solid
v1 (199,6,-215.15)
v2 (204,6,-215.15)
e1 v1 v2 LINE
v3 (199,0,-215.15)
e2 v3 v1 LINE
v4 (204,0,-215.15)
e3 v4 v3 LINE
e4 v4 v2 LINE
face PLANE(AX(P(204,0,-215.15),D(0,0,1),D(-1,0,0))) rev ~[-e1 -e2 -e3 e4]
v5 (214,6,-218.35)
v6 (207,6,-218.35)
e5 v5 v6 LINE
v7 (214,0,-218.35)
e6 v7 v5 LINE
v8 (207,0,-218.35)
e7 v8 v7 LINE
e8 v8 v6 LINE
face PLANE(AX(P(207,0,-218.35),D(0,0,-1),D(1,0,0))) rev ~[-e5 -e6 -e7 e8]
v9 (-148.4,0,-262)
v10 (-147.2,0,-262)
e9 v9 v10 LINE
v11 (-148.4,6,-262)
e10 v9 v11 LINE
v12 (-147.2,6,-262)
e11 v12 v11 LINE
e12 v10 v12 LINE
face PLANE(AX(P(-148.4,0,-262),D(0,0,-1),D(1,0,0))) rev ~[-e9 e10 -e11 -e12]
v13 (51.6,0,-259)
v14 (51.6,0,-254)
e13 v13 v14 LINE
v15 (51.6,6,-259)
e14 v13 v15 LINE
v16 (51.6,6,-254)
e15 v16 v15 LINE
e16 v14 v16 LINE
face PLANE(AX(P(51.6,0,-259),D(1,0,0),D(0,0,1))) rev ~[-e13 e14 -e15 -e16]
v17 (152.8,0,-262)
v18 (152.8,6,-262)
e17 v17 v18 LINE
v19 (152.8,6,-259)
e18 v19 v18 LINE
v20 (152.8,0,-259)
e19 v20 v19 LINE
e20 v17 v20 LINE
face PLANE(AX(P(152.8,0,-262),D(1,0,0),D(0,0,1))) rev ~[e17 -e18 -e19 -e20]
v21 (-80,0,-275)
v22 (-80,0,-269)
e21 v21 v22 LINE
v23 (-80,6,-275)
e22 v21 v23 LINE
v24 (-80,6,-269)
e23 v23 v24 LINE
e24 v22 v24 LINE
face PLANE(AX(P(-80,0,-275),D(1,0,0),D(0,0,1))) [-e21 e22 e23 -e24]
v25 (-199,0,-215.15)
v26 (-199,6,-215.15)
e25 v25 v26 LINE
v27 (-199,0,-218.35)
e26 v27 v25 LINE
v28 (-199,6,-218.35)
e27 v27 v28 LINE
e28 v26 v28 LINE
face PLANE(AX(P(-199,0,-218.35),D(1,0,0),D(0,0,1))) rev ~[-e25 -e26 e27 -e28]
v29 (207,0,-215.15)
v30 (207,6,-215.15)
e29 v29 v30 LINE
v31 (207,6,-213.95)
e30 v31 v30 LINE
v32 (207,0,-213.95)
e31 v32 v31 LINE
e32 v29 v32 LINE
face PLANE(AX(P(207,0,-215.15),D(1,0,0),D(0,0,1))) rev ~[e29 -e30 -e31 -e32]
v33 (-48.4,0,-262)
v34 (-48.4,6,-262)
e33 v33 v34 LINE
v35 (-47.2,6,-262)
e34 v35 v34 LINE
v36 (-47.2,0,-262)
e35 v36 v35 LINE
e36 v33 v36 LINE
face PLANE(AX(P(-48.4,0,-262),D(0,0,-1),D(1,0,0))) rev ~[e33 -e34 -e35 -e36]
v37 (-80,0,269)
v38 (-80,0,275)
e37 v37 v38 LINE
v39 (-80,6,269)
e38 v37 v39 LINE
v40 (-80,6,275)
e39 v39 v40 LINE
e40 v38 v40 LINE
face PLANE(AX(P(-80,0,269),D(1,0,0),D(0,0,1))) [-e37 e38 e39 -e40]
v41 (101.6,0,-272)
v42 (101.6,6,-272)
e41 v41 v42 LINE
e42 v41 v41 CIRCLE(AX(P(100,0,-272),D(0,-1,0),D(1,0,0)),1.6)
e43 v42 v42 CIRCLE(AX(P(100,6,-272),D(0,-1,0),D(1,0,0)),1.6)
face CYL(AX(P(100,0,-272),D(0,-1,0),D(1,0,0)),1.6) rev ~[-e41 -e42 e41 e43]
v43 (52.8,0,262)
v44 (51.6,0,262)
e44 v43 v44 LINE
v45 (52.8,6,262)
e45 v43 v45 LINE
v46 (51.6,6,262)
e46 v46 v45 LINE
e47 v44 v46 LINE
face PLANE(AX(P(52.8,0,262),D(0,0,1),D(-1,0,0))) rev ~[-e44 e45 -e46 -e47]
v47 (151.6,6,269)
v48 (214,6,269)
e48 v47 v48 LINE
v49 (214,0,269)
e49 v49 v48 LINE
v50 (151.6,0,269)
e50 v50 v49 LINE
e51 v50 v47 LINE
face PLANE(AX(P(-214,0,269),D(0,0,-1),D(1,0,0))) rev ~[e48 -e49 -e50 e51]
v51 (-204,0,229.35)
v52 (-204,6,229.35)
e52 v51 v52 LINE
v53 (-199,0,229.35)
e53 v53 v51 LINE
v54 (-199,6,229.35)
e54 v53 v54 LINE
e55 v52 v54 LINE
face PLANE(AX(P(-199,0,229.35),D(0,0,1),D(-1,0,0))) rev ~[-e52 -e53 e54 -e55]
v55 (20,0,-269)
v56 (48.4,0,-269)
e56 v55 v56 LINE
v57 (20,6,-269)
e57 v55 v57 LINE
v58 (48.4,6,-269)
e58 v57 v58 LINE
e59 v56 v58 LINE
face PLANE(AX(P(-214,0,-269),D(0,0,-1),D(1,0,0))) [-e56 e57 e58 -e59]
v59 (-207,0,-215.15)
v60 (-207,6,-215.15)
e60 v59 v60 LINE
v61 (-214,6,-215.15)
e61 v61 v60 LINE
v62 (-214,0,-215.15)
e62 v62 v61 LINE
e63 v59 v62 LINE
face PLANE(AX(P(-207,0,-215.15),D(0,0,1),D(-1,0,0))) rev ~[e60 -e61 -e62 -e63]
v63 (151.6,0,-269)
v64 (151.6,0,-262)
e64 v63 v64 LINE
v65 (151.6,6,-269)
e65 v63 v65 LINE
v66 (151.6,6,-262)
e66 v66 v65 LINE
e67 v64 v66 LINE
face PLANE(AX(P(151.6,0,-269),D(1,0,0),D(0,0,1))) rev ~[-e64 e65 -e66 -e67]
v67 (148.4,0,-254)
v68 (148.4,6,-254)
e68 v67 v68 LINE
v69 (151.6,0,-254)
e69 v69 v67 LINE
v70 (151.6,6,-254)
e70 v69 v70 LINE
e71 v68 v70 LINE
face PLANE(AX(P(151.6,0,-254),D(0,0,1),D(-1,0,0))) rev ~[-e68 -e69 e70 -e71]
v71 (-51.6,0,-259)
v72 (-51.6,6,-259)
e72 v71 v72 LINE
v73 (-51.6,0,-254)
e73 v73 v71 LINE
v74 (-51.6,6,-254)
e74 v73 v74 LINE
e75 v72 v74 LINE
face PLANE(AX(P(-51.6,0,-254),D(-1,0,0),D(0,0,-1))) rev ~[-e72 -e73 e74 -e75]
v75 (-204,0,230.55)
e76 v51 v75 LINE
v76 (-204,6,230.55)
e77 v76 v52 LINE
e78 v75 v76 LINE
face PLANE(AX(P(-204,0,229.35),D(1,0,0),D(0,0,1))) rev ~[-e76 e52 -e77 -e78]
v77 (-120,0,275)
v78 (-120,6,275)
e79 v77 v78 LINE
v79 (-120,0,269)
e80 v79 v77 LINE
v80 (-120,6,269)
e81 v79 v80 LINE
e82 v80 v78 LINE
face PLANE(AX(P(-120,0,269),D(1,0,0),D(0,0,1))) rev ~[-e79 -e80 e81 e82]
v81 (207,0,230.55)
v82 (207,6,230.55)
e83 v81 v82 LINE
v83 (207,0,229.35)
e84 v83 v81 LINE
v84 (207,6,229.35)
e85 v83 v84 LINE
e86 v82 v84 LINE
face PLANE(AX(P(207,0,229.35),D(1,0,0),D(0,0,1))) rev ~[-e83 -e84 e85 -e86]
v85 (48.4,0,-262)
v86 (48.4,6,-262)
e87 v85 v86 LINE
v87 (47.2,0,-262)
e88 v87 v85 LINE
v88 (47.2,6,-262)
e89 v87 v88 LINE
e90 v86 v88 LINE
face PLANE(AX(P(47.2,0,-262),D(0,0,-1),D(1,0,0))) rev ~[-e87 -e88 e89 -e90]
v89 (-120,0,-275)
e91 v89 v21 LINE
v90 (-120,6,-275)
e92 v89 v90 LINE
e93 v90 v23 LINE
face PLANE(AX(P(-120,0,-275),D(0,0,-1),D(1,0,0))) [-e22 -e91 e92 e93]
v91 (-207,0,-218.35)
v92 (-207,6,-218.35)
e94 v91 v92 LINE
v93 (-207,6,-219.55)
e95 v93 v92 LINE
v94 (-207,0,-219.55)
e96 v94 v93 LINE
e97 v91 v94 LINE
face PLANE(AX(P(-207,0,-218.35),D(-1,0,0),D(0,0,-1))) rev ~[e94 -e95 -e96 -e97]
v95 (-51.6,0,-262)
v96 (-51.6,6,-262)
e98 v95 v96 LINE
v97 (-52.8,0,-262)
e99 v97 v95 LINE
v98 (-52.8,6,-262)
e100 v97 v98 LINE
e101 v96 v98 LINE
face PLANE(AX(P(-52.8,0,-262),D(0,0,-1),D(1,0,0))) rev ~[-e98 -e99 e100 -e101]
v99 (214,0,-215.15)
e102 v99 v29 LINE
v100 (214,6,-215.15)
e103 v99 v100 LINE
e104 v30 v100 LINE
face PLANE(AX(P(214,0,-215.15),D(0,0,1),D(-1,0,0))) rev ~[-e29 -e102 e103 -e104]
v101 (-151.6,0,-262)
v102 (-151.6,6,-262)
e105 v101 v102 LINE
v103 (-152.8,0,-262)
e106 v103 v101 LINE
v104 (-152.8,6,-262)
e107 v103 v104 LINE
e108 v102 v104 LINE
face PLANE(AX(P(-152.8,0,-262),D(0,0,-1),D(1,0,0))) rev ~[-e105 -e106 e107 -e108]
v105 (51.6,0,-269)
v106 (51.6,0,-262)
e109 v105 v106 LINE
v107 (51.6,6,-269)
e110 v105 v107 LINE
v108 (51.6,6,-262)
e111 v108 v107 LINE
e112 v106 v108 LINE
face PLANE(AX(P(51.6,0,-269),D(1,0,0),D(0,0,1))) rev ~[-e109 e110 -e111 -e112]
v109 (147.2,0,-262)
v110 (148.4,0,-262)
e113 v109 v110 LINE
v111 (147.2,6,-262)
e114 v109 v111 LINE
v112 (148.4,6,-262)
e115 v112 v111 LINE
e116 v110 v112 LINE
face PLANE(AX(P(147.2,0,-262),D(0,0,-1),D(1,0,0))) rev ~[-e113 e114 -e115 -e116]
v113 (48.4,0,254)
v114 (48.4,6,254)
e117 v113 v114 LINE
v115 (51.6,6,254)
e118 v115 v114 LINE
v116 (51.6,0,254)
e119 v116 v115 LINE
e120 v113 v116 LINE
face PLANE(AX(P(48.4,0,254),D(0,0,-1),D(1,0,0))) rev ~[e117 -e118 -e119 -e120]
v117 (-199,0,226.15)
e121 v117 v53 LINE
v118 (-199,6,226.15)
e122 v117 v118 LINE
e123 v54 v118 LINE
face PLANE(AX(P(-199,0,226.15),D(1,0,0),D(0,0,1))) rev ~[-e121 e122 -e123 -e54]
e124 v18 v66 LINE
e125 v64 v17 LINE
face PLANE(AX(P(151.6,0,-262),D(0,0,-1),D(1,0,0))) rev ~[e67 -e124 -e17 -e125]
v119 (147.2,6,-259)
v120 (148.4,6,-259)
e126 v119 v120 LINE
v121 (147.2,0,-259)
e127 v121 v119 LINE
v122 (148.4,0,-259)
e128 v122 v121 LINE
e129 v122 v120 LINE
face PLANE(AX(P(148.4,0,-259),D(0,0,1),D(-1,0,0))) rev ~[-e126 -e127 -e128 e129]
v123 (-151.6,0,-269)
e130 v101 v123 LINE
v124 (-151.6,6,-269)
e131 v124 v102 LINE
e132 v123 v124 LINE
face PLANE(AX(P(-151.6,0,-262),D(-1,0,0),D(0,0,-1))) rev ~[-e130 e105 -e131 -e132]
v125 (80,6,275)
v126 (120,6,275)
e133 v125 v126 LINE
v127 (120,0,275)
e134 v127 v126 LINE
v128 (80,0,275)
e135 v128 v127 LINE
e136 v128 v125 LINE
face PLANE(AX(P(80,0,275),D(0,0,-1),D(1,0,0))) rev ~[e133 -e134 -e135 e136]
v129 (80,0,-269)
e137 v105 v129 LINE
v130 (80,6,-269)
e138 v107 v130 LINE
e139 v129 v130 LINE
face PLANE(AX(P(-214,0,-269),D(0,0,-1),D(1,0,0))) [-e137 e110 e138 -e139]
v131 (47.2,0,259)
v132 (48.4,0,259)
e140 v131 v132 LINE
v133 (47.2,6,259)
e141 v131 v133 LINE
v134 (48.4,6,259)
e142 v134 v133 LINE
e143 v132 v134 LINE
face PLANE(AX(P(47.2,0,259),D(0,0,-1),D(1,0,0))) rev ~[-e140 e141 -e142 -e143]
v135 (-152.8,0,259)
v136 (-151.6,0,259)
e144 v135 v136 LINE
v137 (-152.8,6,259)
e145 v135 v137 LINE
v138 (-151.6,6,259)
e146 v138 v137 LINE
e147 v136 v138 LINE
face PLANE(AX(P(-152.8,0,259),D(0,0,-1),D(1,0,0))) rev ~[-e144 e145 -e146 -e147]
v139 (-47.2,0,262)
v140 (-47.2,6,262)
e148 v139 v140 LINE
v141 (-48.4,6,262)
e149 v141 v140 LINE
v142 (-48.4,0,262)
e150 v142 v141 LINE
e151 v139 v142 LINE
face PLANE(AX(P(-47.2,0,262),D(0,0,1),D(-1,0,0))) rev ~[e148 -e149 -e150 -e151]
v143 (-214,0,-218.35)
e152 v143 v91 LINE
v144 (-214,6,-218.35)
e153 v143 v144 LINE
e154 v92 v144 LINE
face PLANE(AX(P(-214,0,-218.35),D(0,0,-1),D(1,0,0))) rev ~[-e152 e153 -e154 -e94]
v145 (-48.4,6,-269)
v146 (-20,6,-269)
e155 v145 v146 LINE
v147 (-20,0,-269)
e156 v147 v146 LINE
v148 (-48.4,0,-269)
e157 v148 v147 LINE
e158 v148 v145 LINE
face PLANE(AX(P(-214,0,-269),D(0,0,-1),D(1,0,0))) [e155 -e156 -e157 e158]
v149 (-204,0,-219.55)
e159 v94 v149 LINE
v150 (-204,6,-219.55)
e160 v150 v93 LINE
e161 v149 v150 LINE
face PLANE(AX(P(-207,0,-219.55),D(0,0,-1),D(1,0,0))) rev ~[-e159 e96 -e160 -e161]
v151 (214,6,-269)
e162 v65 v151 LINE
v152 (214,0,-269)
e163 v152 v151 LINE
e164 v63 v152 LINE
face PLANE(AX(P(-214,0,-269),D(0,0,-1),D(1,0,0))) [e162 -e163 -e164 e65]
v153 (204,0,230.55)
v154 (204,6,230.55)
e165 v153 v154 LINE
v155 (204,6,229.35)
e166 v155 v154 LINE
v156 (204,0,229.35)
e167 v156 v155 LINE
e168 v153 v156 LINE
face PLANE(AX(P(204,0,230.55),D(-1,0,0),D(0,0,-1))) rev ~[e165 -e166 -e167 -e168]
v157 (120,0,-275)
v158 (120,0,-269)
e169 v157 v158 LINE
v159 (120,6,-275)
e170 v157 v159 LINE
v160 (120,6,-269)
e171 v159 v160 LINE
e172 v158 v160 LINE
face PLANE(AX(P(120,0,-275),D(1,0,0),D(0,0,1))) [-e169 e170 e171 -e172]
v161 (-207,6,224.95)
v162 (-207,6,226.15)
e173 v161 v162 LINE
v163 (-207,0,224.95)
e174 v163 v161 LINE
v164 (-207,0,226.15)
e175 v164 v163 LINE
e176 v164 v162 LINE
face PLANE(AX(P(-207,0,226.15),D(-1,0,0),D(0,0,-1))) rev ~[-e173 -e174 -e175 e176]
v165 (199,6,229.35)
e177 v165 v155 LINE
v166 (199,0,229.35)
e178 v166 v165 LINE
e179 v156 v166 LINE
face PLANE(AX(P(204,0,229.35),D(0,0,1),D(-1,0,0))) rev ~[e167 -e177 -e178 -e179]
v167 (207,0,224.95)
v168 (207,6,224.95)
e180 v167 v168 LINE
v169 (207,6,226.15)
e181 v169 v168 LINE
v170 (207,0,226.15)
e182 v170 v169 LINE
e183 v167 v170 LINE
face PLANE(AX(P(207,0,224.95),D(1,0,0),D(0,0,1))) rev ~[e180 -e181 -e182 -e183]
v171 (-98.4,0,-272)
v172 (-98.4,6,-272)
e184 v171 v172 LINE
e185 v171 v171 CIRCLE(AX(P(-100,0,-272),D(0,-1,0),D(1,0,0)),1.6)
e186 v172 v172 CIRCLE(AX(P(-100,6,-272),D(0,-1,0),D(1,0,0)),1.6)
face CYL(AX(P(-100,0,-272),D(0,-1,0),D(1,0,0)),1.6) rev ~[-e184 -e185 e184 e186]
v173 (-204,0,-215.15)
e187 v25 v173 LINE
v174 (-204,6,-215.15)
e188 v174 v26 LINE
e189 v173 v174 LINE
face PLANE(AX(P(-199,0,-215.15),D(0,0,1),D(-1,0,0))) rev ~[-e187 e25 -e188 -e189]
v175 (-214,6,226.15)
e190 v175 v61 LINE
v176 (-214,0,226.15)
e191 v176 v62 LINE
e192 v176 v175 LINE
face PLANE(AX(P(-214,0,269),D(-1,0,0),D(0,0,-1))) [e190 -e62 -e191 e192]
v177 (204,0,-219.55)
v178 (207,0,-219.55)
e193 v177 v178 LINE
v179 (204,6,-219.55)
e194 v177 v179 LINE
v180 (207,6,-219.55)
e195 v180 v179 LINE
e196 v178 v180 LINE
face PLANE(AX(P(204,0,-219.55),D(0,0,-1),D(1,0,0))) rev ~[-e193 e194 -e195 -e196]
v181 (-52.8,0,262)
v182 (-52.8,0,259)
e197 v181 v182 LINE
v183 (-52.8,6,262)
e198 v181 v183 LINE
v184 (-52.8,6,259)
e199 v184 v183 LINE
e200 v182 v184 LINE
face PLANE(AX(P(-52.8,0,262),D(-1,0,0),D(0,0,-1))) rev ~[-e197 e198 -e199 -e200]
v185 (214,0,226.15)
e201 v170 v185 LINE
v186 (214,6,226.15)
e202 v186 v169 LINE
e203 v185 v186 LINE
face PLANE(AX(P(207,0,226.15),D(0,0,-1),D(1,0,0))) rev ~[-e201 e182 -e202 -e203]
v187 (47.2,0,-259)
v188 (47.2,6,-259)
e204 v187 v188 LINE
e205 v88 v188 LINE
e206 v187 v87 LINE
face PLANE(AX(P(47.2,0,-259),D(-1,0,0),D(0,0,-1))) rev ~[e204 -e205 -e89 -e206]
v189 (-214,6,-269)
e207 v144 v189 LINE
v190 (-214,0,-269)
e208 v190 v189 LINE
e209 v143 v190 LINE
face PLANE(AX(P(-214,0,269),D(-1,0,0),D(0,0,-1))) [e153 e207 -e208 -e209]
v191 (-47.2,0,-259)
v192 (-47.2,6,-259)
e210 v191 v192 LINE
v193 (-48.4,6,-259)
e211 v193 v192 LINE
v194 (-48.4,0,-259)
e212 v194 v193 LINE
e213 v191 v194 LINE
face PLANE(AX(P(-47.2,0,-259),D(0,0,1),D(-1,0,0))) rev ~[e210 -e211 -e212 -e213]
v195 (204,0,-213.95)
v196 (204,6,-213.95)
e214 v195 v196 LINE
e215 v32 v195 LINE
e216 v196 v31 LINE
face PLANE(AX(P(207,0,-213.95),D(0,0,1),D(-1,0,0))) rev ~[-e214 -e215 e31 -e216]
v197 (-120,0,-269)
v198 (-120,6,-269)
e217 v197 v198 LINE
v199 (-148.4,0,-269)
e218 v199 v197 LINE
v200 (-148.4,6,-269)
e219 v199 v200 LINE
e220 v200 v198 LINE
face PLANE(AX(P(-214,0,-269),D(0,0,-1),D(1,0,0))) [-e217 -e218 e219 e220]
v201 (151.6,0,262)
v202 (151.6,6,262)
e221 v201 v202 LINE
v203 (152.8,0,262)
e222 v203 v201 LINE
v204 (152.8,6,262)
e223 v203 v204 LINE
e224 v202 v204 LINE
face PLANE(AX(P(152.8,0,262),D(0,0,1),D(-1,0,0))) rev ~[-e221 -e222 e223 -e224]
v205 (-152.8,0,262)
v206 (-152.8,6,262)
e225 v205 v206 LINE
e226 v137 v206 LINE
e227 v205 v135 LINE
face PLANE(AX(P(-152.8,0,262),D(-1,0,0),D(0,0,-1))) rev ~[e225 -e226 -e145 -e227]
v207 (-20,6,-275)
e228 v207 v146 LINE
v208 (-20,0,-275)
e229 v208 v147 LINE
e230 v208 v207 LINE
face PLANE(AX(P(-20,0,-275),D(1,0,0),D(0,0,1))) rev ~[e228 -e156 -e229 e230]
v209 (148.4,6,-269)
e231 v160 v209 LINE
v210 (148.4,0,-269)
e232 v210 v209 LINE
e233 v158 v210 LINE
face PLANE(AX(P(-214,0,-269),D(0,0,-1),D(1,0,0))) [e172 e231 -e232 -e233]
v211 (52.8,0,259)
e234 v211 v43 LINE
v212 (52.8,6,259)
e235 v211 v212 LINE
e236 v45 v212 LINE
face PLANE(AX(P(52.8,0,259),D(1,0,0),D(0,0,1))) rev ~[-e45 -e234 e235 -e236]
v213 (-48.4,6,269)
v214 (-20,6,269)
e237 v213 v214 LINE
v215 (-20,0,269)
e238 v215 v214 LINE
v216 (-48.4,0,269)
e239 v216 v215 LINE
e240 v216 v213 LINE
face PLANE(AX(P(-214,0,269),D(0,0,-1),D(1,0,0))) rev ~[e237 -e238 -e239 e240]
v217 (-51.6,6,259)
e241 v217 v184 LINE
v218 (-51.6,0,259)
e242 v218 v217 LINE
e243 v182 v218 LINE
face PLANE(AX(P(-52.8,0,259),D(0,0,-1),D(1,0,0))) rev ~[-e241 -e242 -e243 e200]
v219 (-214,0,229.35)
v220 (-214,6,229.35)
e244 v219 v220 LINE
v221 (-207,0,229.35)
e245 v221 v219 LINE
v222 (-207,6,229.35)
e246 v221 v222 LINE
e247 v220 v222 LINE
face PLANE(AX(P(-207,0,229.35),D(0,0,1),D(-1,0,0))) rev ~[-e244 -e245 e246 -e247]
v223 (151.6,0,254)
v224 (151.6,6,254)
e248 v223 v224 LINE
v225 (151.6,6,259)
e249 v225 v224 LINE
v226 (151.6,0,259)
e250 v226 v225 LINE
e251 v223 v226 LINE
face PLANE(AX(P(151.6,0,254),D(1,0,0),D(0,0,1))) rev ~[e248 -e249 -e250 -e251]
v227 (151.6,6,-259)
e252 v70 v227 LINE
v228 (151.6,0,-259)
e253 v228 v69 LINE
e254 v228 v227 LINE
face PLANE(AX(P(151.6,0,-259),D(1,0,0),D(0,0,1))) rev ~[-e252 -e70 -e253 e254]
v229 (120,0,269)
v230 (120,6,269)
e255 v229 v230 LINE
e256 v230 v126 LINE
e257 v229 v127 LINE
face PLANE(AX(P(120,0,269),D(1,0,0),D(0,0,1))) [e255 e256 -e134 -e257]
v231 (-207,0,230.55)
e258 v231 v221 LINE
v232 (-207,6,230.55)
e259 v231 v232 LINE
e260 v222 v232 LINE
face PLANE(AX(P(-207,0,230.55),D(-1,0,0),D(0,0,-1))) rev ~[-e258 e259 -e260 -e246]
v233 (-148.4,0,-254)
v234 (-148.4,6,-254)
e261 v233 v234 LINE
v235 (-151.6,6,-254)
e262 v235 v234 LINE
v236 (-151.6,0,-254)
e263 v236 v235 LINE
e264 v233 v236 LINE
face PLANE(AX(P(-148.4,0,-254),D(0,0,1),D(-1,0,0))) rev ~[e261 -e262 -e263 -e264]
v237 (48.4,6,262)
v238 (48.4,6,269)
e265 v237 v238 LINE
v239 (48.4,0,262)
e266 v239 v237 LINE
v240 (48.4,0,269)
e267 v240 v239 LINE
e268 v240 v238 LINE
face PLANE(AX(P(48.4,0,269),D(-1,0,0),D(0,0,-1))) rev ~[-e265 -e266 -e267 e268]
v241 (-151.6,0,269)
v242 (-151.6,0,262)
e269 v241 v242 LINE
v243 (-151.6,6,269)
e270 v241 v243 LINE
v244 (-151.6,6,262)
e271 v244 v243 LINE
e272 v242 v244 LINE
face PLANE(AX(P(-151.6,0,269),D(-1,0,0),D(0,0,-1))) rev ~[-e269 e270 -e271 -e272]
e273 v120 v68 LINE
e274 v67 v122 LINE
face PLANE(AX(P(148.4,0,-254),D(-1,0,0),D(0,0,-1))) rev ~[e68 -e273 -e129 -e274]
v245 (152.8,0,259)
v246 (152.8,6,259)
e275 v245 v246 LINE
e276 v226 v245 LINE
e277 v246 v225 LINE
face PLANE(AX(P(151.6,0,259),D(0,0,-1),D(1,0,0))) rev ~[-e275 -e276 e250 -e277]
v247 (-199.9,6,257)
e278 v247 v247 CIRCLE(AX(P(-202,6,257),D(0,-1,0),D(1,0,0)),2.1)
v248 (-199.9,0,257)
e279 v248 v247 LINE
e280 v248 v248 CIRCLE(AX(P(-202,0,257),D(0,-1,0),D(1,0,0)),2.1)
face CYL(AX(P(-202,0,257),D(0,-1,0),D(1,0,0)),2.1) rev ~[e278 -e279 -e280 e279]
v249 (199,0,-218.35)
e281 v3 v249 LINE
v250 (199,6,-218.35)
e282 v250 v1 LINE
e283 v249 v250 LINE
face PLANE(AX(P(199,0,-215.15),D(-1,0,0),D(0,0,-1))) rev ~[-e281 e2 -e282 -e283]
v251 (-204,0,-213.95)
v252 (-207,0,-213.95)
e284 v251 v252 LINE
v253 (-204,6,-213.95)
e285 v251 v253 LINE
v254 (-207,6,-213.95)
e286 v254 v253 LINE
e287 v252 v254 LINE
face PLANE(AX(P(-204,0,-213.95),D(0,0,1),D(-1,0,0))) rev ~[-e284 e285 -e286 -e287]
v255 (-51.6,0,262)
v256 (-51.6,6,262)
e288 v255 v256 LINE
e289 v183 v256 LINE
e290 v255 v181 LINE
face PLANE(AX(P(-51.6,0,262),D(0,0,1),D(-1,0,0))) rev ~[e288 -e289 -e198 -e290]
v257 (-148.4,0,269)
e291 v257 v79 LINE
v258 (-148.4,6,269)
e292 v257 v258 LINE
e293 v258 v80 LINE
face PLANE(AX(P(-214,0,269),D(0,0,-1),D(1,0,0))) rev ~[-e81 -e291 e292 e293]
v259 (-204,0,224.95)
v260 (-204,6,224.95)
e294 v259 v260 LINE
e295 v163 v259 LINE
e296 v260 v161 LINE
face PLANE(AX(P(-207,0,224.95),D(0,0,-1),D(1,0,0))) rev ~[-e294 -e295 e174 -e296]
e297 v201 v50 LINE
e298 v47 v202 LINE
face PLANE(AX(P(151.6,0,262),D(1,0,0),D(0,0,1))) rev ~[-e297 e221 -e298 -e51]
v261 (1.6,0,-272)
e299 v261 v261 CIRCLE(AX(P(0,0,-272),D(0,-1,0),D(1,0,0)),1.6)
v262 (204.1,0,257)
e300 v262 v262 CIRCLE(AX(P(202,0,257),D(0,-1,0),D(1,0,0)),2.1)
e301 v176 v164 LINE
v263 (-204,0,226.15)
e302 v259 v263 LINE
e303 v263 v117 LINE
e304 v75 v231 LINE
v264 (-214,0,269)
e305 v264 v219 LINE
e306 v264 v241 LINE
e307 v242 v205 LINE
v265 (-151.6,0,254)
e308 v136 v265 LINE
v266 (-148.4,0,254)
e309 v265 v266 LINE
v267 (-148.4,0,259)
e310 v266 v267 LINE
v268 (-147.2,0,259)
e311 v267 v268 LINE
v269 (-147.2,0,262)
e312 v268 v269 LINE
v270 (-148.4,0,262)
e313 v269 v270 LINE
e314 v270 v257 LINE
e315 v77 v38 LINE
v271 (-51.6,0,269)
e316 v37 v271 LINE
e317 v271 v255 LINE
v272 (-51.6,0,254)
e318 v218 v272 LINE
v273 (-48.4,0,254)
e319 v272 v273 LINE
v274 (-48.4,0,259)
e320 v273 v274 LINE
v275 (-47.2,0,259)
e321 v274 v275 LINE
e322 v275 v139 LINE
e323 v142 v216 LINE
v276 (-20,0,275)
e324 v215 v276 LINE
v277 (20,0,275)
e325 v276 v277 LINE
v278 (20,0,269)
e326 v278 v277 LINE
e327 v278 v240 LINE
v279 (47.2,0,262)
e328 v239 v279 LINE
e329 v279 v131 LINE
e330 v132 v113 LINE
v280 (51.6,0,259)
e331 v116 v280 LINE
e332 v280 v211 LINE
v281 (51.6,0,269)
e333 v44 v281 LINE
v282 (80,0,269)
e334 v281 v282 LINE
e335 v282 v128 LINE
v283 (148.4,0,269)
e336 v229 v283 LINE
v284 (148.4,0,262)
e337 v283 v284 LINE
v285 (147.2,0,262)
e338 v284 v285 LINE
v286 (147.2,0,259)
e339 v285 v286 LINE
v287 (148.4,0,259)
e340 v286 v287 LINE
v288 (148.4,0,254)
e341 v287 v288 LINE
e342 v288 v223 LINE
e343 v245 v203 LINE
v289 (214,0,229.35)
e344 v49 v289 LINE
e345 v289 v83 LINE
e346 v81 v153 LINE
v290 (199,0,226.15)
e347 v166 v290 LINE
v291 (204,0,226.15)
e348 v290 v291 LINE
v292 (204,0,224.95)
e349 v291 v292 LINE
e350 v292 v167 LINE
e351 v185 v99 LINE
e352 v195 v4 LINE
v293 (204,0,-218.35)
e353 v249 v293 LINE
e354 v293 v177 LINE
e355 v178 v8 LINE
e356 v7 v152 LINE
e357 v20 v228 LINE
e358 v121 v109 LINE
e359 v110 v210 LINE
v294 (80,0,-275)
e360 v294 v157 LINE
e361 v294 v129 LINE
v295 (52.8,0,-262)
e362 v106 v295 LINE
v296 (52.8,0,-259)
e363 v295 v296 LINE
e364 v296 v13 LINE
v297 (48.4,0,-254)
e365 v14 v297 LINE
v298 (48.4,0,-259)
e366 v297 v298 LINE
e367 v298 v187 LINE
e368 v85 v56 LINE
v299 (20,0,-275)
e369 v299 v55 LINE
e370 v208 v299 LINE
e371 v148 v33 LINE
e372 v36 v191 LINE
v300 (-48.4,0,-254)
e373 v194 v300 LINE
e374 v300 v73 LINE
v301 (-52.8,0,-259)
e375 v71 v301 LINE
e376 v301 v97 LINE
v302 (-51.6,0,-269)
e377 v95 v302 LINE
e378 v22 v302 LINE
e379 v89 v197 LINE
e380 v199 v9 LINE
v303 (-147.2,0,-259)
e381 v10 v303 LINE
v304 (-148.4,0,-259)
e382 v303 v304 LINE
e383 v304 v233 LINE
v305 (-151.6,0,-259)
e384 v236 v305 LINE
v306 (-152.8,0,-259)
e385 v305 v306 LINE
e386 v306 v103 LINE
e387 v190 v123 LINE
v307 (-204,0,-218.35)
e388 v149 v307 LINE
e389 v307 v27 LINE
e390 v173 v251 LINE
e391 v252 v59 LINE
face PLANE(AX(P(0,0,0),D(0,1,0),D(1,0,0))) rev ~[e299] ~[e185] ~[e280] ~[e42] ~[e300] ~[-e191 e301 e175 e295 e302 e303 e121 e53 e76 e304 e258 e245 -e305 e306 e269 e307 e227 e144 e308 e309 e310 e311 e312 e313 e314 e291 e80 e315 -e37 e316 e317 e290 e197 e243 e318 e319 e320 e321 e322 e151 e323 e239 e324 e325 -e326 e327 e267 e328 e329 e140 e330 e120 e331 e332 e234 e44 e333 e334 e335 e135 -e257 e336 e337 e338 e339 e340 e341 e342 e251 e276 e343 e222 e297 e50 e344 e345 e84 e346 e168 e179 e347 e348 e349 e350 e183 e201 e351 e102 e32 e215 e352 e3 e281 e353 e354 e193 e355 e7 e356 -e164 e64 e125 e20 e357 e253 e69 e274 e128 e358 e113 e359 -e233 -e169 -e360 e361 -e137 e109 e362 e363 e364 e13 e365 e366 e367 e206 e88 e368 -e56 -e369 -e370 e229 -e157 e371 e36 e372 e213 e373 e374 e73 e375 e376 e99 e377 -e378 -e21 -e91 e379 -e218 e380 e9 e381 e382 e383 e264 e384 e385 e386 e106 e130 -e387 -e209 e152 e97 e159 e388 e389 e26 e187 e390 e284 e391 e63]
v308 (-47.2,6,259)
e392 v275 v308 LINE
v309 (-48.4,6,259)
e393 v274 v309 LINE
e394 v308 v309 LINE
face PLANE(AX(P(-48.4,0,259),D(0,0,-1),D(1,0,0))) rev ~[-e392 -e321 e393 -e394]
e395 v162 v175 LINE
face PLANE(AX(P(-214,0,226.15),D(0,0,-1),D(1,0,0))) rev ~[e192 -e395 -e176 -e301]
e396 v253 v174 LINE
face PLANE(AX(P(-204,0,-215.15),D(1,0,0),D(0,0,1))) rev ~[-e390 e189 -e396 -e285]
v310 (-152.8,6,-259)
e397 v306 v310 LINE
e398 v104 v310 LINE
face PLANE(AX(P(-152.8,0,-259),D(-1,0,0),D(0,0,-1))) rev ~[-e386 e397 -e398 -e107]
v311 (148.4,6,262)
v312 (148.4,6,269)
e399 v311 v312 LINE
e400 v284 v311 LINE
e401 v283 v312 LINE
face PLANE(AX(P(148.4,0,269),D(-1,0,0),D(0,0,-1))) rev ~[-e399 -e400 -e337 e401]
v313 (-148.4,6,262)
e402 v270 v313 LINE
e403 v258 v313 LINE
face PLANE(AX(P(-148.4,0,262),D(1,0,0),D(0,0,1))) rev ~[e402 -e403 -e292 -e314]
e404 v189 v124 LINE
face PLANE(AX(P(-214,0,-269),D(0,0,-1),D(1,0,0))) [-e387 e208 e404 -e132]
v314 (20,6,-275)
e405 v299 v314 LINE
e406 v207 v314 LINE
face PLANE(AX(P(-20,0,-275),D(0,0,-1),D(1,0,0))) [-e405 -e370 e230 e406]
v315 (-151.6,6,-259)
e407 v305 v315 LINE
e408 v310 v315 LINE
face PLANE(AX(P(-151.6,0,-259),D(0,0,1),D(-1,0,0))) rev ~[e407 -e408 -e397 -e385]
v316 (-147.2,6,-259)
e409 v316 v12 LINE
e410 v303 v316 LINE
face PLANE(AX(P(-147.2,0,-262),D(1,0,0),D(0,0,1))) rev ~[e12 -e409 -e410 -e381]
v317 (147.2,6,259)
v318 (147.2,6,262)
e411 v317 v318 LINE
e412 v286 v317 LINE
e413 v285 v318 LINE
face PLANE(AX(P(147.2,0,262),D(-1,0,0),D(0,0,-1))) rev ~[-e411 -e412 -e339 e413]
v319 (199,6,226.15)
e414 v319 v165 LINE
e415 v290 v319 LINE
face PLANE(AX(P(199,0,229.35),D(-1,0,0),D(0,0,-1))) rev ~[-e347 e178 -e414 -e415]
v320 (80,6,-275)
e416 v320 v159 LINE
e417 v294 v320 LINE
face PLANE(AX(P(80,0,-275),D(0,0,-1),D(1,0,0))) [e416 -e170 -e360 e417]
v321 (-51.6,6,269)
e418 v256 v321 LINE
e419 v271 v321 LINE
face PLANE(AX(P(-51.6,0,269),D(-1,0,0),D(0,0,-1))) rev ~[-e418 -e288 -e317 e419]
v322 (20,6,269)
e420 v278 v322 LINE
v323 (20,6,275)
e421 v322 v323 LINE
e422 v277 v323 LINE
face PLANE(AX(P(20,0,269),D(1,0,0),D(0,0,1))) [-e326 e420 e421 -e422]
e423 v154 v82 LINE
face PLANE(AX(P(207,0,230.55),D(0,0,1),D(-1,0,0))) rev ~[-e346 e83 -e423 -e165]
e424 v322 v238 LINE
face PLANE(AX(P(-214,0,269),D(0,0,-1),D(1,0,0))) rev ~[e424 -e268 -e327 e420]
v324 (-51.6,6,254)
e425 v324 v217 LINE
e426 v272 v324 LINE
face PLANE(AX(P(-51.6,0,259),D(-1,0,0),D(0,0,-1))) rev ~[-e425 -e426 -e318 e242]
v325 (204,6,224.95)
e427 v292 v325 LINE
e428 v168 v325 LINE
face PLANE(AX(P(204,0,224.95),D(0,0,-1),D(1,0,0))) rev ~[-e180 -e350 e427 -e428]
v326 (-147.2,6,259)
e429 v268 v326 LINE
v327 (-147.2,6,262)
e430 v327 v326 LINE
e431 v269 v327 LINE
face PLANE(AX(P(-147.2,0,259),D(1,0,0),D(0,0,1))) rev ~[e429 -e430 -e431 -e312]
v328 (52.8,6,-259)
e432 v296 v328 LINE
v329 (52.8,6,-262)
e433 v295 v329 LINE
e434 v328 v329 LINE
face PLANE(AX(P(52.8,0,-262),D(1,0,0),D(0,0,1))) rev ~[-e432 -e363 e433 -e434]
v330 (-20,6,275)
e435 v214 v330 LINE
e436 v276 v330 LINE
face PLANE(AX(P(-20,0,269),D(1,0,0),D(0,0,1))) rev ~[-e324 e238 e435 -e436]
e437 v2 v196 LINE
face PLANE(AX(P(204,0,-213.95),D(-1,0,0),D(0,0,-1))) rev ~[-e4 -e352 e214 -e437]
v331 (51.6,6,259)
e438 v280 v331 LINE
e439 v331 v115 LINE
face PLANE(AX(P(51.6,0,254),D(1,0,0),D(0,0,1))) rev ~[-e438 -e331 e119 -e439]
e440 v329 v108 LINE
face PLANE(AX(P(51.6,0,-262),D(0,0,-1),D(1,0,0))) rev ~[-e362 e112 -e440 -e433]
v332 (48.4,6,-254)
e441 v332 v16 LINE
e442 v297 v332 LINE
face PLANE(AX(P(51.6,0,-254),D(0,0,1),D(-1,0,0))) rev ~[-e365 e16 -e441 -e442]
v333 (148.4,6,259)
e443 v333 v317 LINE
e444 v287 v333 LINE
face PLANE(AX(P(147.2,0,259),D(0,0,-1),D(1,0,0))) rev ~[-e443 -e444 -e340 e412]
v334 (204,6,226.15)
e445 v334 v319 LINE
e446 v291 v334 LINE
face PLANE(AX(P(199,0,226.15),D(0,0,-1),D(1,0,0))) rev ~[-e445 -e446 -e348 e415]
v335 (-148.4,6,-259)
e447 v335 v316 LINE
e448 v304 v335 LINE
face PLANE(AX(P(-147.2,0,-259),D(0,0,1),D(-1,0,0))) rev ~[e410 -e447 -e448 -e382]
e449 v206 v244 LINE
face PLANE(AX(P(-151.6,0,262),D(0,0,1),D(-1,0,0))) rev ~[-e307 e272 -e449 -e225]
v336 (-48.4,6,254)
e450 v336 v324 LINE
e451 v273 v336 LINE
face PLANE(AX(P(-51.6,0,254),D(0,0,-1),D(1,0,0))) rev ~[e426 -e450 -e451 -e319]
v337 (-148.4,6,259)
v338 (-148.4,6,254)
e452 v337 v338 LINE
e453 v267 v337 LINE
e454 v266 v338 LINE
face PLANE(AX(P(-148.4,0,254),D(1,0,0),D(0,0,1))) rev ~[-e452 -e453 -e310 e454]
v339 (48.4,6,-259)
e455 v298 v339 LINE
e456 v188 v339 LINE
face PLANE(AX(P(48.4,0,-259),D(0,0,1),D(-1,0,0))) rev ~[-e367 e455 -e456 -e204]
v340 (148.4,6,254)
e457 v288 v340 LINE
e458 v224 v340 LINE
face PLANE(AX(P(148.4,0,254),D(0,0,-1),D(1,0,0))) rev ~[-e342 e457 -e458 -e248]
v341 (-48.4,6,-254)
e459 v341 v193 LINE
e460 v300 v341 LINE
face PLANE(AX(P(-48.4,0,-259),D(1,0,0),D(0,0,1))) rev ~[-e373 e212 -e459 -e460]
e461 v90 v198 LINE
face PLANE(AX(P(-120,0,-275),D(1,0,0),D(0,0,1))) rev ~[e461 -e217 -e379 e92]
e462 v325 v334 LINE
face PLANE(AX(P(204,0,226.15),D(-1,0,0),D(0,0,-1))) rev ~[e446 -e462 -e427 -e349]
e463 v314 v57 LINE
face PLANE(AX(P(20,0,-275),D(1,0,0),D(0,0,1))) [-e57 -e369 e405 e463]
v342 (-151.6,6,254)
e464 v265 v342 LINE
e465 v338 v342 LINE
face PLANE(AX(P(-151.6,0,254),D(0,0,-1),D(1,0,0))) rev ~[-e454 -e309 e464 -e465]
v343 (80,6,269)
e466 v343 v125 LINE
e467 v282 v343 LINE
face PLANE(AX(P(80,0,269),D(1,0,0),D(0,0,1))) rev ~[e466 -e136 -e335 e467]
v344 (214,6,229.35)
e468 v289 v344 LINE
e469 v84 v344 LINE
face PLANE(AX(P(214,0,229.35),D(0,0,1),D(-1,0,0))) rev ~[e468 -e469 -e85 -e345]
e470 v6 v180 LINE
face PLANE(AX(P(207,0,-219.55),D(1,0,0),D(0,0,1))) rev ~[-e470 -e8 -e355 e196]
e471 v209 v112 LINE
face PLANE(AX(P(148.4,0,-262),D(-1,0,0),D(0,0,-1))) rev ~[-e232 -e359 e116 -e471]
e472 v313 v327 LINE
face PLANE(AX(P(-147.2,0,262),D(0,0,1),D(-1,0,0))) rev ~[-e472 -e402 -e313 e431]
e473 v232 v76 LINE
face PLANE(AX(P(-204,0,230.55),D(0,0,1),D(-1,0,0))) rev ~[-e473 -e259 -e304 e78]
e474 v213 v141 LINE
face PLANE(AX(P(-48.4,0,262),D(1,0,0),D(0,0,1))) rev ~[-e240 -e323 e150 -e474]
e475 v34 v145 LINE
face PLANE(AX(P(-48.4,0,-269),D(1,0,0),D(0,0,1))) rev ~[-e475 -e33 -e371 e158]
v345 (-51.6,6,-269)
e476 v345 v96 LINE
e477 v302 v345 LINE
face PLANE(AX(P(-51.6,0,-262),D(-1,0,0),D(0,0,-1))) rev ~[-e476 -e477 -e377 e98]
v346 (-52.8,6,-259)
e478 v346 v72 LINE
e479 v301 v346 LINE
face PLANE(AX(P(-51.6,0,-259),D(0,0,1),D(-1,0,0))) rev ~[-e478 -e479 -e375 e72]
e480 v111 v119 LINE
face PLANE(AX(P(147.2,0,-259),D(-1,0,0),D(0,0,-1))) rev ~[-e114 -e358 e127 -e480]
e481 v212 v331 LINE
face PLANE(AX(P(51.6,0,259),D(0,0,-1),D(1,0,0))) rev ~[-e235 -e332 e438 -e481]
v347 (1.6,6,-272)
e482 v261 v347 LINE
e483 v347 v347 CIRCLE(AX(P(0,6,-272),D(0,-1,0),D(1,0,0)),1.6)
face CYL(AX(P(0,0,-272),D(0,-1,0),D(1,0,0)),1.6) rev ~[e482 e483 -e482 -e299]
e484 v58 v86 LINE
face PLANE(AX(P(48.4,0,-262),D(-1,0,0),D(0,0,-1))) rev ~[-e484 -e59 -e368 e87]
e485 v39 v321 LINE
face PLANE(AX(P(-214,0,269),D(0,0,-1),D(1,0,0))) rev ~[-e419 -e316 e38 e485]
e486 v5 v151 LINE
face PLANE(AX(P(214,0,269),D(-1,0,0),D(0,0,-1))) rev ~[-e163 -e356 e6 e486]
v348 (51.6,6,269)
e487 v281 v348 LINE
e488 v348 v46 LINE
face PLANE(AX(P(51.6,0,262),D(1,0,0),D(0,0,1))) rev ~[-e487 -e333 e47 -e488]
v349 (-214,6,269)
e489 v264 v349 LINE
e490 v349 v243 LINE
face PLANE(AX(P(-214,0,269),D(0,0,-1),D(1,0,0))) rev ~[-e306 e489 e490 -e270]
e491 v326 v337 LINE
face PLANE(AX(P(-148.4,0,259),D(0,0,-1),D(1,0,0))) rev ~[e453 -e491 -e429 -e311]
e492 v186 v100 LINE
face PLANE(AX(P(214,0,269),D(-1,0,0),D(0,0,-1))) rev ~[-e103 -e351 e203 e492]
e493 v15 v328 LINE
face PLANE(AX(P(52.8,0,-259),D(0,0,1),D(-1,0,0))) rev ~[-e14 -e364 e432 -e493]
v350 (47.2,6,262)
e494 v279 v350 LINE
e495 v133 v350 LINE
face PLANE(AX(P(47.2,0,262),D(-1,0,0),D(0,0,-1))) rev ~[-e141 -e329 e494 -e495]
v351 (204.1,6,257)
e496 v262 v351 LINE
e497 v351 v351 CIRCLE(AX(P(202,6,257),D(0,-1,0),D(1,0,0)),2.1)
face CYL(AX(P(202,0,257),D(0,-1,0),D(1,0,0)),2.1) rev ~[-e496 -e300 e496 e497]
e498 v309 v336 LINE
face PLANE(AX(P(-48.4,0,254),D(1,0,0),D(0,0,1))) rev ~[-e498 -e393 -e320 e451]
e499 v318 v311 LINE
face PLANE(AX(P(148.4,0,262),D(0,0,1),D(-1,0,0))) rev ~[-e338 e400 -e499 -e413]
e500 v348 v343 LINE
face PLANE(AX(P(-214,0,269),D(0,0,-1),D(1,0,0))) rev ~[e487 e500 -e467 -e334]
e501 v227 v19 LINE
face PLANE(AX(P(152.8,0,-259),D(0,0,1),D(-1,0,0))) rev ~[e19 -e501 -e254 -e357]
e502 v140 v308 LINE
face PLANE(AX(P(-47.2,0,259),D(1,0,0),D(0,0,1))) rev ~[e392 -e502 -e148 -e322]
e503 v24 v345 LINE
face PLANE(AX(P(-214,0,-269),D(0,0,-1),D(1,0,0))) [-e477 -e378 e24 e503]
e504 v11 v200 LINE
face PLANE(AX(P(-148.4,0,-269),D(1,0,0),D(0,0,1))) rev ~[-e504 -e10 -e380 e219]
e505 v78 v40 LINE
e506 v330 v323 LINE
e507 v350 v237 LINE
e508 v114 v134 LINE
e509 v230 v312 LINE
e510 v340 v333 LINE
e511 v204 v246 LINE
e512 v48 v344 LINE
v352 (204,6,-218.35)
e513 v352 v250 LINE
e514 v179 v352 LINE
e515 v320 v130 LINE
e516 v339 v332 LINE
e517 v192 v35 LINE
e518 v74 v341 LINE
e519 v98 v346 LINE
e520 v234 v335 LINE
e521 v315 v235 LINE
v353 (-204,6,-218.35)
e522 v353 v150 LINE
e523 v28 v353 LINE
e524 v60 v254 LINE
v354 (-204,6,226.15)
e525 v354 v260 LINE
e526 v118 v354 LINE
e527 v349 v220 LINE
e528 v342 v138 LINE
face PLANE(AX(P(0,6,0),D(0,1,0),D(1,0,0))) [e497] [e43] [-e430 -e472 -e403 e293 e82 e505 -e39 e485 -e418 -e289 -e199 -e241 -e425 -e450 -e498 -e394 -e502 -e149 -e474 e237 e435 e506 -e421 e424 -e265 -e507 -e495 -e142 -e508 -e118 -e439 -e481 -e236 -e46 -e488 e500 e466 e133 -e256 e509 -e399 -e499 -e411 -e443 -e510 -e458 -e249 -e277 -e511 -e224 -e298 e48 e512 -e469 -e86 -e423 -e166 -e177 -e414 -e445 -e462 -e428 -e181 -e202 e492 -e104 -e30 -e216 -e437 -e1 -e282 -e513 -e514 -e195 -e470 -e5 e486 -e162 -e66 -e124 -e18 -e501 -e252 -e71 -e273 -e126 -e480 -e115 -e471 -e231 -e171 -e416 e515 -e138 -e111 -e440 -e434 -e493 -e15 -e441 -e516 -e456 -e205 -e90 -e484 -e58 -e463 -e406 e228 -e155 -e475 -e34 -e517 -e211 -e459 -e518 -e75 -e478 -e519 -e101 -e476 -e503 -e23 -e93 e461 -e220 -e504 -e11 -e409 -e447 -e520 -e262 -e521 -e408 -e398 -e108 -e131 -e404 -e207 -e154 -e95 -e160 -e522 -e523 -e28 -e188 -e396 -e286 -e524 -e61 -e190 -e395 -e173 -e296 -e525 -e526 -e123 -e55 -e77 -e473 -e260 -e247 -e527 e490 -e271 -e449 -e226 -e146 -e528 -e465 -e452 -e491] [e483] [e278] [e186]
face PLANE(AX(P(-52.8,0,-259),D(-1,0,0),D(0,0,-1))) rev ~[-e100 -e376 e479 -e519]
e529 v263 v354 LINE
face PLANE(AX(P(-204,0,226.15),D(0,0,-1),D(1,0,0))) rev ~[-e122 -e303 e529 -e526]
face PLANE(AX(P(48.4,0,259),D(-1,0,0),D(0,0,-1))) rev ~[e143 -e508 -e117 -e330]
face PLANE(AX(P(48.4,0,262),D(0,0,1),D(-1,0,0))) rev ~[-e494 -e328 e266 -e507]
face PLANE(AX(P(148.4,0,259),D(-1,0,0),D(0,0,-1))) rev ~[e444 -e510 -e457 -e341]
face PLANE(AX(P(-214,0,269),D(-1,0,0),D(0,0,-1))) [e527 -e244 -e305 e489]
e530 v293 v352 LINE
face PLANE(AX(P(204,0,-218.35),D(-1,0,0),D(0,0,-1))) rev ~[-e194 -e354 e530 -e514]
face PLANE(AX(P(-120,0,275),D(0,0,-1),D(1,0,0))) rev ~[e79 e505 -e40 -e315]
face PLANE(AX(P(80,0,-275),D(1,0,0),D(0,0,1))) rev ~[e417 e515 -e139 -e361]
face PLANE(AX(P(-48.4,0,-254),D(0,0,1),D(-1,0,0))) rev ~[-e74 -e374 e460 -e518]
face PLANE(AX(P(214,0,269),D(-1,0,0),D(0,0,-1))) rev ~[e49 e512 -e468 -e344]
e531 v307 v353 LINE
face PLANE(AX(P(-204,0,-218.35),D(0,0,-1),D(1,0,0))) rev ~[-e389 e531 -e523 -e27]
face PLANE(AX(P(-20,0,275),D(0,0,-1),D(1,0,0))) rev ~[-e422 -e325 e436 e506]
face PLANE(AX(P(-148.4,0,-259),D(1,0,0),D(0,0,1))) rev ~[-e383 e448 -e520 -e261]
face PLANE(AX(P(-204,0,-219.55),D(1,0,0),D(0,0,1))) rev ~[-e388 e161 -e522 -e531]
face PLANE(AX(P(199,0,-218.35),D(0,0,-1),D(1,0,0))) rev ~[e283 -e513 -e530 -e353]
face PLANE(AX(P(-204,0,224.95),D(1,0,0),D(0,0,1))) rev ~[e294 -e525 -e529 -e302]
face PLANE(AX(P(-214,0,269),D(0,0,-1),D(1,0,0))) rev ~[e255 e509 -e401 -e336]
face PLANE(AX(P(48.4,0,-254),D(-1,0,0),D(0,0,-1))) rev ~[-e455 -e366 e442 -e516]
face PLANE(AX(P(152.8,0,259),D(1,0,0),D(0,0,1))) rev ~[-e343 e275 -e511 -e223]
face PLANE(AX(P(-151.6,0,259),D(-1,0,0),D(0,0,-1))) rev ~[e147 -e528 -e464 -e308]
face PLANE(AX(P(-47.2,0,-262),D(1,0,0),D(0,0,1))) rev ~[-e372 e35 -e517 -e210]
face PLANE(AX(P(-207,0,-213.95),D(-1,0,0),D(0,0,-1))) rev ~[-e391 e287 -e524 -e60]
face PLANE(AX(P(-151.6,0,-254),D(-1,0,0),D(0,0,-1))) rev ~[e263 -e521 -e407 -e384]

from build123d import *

# Parameters (mm, degrees)
SKETCH1_W           = 428
SKETCH1_H           = 538
BOSS_EXTRUDE1_DEPTH = 6
SKETCH2_W           = 40
SKETCH2_H           = 6
BOSS_EXTRUDE2_DEPTH = 6
SKETCH3_R           = 1.6
SKETCH3_R_2         = 2.1
CUT_EXTRUDE1_DEPTH  = 7


with BuildPart() as part:
    # Sketch1 → Boss-Extrude1 (new body)
    with BuildSketch(Plane(origin=(0, 0, 0), x_dir=(1, 0, 0), z_dir=(0, 1, 0))):
        Rectangle(SKETCH1_W, SKETCH1_H)
    extrude(amount=BOSS_EXTRUDE1_DEPTH)

    # Sketch2 → Boss-Extrude2 (add)
    with BuildSketch(Plane.XZ):
        with Locations((-100, 272)):
            Rectangle(SKETCH2_W, SKETCH2_H)
        with Locations((0, 272)):
            Rectangle(SKETCH2_W, SKETCH2_H)
        with Locations((100, 272)):
            Rectangle(SKETCH2_W, SKETCH2_H)
        with Locations((100, -272)):
            Rectangle(SKETCH2_W, SKETCH2_H)
        with Locations((0, -272)):
            Rectangle(SKETCH2_W, SKETCH2_H)
        with Locations((-100, -272)):
            Rectangle(SKETCH2_W, SKETCH2_H)
    extrude(amount=-BOSS_EXTRUDE2_DEPTH)

    # Sketch3 → Cut-Extrude1 (cut, through all)
    with BuildSketch(Plane.XZ):
        Polygon((204, -219.55), (207, -219.55), (207, -218.35), (214, -218.35), (214, -215.15), (207, -215.15), (207, -213.95), (204, -213.95), (204, -215.15), (199, -215.15), (199, -218.35), (204, -218.35), align=None)
        Polygon((-214, 229.35), (-214, 226.15), (-207, 226.15), (-207, 224.95), (-204, 224.95), (-204, 226.15), (-199, 226.15), (-199, 229.35), (-204, 229.35), (-204, 230.55), (-207, 230.55), (-207, 229.35), align=None)
        Polygon((-214, -215.15), (-214, -218.35), (-207, -218.35), (-207, -219.55), (-204, -219.55), (-204, -218.35), (-199, -218.35), (-199, -215.15), (-204, -215.15), (-204, -213.95), (-207, -213.95), (-207, -215.15), align=None)
        Polygon((207, 226.15), (214, 226.15), (214, 229.35), (207, 229.35), (207, 230.55), (204, 230.55), (204, 229.35), (199, 229.35), (199, 226.15), (204, 226.15), (204, 224.95), (207, 224.95), align=None)
        Polygon((151.6, 254), (151.6, 259), (152.8, 259), (152.8, 262), (151.6, 262), (151.6, 269), (148.4, 269), (148.4, 262), (147.2, 262), (147.2, 259), (148.4, 259), (148.4, 254), align=None)
        Polygon((51.6, 254), (51.6, 259), (52.8, 259), (52.8, 262), (51.6, 262), (51.6, 269), (48.4, 269), (48.4, 262), (47.2, 262), (47.2, 259), (48.4, 259), (48.4, 254), align=None)
        Polygon((-48.4, 254), (-48.4, 259), (-47.2, 259), (-47.2, 262), (-48.4, 262), (-48.4, 269), (-51.6, 269), (-51.6, 262), (-52.8, 262), (-52.8, 259), (-51.6, 259), (-51.6, 254), align=None)
        Polygon((-148.4, 254), (-148.4, 259), (-147.2, 259), (-147.2, 262), (-148.4, 262), (-148.4, 269), (-151.6, 269), (-151.6, 262), (-152.8, 262), (-152.8, 259), (-151.6, 259), (-151.6, 254), align=None)
        Polygon((-148.4, -254), (-151.6, -254), (-151.6, -259), (-152.8, -259), (-152.8, -262), (-151.6, -262), (-151.6, -269), (-148.4, -269), (-148.4, -262), (-147.2, -262), (-147.2, -259), (-148.4, -259), align=None)
        Polygon((-48.4, -254), (-51.6, -254), (-51.6, -259), (-52.8, -259), (-52.8, -262), (-51.6, -262), (-51.6, -269), (-48.4, -269), (-48.4, -262), (-47.2, -262), (-47.2, -259), (-48.4, -259), align=None)
        Polygon((51.6, -254), (48.4, -254), (48.4, -259), (47.2, -259), (47.2, -262), (48.4, -262), (48.4, -269), (51.6, -269), (51.6, -262), (52.8, -262), (52.8, -259), (51.6, -259), align=None)
        Polygon((151.6, -254), (148.4, -254), (148.4, -259), (147.2, -259), (147.2, -262), (148.4, -262), (148.4, -269), (151.6, -269), (151.6, -262), (152.8, -262), (152.8, -259), (151.6, -259), align=None)
        with Locations((-100, -272)):
            Circle(SKETCH3_R)
        with Locations((0, -272)):
            Circle(SKETCH3_R)
        with Locations((100, -272)):
            Circle(SKETCH3_R)
        with Locations((202, 257)):
            Circle(SKETCH3_R_2)
        with Locations((-202, 257)):
            Circle(SKETCH3_R_2)
    extrude(amount=-CUT_EXTRUDE1_DEPTH, mode=Mode.SUBTRACT)


solid = part.part
